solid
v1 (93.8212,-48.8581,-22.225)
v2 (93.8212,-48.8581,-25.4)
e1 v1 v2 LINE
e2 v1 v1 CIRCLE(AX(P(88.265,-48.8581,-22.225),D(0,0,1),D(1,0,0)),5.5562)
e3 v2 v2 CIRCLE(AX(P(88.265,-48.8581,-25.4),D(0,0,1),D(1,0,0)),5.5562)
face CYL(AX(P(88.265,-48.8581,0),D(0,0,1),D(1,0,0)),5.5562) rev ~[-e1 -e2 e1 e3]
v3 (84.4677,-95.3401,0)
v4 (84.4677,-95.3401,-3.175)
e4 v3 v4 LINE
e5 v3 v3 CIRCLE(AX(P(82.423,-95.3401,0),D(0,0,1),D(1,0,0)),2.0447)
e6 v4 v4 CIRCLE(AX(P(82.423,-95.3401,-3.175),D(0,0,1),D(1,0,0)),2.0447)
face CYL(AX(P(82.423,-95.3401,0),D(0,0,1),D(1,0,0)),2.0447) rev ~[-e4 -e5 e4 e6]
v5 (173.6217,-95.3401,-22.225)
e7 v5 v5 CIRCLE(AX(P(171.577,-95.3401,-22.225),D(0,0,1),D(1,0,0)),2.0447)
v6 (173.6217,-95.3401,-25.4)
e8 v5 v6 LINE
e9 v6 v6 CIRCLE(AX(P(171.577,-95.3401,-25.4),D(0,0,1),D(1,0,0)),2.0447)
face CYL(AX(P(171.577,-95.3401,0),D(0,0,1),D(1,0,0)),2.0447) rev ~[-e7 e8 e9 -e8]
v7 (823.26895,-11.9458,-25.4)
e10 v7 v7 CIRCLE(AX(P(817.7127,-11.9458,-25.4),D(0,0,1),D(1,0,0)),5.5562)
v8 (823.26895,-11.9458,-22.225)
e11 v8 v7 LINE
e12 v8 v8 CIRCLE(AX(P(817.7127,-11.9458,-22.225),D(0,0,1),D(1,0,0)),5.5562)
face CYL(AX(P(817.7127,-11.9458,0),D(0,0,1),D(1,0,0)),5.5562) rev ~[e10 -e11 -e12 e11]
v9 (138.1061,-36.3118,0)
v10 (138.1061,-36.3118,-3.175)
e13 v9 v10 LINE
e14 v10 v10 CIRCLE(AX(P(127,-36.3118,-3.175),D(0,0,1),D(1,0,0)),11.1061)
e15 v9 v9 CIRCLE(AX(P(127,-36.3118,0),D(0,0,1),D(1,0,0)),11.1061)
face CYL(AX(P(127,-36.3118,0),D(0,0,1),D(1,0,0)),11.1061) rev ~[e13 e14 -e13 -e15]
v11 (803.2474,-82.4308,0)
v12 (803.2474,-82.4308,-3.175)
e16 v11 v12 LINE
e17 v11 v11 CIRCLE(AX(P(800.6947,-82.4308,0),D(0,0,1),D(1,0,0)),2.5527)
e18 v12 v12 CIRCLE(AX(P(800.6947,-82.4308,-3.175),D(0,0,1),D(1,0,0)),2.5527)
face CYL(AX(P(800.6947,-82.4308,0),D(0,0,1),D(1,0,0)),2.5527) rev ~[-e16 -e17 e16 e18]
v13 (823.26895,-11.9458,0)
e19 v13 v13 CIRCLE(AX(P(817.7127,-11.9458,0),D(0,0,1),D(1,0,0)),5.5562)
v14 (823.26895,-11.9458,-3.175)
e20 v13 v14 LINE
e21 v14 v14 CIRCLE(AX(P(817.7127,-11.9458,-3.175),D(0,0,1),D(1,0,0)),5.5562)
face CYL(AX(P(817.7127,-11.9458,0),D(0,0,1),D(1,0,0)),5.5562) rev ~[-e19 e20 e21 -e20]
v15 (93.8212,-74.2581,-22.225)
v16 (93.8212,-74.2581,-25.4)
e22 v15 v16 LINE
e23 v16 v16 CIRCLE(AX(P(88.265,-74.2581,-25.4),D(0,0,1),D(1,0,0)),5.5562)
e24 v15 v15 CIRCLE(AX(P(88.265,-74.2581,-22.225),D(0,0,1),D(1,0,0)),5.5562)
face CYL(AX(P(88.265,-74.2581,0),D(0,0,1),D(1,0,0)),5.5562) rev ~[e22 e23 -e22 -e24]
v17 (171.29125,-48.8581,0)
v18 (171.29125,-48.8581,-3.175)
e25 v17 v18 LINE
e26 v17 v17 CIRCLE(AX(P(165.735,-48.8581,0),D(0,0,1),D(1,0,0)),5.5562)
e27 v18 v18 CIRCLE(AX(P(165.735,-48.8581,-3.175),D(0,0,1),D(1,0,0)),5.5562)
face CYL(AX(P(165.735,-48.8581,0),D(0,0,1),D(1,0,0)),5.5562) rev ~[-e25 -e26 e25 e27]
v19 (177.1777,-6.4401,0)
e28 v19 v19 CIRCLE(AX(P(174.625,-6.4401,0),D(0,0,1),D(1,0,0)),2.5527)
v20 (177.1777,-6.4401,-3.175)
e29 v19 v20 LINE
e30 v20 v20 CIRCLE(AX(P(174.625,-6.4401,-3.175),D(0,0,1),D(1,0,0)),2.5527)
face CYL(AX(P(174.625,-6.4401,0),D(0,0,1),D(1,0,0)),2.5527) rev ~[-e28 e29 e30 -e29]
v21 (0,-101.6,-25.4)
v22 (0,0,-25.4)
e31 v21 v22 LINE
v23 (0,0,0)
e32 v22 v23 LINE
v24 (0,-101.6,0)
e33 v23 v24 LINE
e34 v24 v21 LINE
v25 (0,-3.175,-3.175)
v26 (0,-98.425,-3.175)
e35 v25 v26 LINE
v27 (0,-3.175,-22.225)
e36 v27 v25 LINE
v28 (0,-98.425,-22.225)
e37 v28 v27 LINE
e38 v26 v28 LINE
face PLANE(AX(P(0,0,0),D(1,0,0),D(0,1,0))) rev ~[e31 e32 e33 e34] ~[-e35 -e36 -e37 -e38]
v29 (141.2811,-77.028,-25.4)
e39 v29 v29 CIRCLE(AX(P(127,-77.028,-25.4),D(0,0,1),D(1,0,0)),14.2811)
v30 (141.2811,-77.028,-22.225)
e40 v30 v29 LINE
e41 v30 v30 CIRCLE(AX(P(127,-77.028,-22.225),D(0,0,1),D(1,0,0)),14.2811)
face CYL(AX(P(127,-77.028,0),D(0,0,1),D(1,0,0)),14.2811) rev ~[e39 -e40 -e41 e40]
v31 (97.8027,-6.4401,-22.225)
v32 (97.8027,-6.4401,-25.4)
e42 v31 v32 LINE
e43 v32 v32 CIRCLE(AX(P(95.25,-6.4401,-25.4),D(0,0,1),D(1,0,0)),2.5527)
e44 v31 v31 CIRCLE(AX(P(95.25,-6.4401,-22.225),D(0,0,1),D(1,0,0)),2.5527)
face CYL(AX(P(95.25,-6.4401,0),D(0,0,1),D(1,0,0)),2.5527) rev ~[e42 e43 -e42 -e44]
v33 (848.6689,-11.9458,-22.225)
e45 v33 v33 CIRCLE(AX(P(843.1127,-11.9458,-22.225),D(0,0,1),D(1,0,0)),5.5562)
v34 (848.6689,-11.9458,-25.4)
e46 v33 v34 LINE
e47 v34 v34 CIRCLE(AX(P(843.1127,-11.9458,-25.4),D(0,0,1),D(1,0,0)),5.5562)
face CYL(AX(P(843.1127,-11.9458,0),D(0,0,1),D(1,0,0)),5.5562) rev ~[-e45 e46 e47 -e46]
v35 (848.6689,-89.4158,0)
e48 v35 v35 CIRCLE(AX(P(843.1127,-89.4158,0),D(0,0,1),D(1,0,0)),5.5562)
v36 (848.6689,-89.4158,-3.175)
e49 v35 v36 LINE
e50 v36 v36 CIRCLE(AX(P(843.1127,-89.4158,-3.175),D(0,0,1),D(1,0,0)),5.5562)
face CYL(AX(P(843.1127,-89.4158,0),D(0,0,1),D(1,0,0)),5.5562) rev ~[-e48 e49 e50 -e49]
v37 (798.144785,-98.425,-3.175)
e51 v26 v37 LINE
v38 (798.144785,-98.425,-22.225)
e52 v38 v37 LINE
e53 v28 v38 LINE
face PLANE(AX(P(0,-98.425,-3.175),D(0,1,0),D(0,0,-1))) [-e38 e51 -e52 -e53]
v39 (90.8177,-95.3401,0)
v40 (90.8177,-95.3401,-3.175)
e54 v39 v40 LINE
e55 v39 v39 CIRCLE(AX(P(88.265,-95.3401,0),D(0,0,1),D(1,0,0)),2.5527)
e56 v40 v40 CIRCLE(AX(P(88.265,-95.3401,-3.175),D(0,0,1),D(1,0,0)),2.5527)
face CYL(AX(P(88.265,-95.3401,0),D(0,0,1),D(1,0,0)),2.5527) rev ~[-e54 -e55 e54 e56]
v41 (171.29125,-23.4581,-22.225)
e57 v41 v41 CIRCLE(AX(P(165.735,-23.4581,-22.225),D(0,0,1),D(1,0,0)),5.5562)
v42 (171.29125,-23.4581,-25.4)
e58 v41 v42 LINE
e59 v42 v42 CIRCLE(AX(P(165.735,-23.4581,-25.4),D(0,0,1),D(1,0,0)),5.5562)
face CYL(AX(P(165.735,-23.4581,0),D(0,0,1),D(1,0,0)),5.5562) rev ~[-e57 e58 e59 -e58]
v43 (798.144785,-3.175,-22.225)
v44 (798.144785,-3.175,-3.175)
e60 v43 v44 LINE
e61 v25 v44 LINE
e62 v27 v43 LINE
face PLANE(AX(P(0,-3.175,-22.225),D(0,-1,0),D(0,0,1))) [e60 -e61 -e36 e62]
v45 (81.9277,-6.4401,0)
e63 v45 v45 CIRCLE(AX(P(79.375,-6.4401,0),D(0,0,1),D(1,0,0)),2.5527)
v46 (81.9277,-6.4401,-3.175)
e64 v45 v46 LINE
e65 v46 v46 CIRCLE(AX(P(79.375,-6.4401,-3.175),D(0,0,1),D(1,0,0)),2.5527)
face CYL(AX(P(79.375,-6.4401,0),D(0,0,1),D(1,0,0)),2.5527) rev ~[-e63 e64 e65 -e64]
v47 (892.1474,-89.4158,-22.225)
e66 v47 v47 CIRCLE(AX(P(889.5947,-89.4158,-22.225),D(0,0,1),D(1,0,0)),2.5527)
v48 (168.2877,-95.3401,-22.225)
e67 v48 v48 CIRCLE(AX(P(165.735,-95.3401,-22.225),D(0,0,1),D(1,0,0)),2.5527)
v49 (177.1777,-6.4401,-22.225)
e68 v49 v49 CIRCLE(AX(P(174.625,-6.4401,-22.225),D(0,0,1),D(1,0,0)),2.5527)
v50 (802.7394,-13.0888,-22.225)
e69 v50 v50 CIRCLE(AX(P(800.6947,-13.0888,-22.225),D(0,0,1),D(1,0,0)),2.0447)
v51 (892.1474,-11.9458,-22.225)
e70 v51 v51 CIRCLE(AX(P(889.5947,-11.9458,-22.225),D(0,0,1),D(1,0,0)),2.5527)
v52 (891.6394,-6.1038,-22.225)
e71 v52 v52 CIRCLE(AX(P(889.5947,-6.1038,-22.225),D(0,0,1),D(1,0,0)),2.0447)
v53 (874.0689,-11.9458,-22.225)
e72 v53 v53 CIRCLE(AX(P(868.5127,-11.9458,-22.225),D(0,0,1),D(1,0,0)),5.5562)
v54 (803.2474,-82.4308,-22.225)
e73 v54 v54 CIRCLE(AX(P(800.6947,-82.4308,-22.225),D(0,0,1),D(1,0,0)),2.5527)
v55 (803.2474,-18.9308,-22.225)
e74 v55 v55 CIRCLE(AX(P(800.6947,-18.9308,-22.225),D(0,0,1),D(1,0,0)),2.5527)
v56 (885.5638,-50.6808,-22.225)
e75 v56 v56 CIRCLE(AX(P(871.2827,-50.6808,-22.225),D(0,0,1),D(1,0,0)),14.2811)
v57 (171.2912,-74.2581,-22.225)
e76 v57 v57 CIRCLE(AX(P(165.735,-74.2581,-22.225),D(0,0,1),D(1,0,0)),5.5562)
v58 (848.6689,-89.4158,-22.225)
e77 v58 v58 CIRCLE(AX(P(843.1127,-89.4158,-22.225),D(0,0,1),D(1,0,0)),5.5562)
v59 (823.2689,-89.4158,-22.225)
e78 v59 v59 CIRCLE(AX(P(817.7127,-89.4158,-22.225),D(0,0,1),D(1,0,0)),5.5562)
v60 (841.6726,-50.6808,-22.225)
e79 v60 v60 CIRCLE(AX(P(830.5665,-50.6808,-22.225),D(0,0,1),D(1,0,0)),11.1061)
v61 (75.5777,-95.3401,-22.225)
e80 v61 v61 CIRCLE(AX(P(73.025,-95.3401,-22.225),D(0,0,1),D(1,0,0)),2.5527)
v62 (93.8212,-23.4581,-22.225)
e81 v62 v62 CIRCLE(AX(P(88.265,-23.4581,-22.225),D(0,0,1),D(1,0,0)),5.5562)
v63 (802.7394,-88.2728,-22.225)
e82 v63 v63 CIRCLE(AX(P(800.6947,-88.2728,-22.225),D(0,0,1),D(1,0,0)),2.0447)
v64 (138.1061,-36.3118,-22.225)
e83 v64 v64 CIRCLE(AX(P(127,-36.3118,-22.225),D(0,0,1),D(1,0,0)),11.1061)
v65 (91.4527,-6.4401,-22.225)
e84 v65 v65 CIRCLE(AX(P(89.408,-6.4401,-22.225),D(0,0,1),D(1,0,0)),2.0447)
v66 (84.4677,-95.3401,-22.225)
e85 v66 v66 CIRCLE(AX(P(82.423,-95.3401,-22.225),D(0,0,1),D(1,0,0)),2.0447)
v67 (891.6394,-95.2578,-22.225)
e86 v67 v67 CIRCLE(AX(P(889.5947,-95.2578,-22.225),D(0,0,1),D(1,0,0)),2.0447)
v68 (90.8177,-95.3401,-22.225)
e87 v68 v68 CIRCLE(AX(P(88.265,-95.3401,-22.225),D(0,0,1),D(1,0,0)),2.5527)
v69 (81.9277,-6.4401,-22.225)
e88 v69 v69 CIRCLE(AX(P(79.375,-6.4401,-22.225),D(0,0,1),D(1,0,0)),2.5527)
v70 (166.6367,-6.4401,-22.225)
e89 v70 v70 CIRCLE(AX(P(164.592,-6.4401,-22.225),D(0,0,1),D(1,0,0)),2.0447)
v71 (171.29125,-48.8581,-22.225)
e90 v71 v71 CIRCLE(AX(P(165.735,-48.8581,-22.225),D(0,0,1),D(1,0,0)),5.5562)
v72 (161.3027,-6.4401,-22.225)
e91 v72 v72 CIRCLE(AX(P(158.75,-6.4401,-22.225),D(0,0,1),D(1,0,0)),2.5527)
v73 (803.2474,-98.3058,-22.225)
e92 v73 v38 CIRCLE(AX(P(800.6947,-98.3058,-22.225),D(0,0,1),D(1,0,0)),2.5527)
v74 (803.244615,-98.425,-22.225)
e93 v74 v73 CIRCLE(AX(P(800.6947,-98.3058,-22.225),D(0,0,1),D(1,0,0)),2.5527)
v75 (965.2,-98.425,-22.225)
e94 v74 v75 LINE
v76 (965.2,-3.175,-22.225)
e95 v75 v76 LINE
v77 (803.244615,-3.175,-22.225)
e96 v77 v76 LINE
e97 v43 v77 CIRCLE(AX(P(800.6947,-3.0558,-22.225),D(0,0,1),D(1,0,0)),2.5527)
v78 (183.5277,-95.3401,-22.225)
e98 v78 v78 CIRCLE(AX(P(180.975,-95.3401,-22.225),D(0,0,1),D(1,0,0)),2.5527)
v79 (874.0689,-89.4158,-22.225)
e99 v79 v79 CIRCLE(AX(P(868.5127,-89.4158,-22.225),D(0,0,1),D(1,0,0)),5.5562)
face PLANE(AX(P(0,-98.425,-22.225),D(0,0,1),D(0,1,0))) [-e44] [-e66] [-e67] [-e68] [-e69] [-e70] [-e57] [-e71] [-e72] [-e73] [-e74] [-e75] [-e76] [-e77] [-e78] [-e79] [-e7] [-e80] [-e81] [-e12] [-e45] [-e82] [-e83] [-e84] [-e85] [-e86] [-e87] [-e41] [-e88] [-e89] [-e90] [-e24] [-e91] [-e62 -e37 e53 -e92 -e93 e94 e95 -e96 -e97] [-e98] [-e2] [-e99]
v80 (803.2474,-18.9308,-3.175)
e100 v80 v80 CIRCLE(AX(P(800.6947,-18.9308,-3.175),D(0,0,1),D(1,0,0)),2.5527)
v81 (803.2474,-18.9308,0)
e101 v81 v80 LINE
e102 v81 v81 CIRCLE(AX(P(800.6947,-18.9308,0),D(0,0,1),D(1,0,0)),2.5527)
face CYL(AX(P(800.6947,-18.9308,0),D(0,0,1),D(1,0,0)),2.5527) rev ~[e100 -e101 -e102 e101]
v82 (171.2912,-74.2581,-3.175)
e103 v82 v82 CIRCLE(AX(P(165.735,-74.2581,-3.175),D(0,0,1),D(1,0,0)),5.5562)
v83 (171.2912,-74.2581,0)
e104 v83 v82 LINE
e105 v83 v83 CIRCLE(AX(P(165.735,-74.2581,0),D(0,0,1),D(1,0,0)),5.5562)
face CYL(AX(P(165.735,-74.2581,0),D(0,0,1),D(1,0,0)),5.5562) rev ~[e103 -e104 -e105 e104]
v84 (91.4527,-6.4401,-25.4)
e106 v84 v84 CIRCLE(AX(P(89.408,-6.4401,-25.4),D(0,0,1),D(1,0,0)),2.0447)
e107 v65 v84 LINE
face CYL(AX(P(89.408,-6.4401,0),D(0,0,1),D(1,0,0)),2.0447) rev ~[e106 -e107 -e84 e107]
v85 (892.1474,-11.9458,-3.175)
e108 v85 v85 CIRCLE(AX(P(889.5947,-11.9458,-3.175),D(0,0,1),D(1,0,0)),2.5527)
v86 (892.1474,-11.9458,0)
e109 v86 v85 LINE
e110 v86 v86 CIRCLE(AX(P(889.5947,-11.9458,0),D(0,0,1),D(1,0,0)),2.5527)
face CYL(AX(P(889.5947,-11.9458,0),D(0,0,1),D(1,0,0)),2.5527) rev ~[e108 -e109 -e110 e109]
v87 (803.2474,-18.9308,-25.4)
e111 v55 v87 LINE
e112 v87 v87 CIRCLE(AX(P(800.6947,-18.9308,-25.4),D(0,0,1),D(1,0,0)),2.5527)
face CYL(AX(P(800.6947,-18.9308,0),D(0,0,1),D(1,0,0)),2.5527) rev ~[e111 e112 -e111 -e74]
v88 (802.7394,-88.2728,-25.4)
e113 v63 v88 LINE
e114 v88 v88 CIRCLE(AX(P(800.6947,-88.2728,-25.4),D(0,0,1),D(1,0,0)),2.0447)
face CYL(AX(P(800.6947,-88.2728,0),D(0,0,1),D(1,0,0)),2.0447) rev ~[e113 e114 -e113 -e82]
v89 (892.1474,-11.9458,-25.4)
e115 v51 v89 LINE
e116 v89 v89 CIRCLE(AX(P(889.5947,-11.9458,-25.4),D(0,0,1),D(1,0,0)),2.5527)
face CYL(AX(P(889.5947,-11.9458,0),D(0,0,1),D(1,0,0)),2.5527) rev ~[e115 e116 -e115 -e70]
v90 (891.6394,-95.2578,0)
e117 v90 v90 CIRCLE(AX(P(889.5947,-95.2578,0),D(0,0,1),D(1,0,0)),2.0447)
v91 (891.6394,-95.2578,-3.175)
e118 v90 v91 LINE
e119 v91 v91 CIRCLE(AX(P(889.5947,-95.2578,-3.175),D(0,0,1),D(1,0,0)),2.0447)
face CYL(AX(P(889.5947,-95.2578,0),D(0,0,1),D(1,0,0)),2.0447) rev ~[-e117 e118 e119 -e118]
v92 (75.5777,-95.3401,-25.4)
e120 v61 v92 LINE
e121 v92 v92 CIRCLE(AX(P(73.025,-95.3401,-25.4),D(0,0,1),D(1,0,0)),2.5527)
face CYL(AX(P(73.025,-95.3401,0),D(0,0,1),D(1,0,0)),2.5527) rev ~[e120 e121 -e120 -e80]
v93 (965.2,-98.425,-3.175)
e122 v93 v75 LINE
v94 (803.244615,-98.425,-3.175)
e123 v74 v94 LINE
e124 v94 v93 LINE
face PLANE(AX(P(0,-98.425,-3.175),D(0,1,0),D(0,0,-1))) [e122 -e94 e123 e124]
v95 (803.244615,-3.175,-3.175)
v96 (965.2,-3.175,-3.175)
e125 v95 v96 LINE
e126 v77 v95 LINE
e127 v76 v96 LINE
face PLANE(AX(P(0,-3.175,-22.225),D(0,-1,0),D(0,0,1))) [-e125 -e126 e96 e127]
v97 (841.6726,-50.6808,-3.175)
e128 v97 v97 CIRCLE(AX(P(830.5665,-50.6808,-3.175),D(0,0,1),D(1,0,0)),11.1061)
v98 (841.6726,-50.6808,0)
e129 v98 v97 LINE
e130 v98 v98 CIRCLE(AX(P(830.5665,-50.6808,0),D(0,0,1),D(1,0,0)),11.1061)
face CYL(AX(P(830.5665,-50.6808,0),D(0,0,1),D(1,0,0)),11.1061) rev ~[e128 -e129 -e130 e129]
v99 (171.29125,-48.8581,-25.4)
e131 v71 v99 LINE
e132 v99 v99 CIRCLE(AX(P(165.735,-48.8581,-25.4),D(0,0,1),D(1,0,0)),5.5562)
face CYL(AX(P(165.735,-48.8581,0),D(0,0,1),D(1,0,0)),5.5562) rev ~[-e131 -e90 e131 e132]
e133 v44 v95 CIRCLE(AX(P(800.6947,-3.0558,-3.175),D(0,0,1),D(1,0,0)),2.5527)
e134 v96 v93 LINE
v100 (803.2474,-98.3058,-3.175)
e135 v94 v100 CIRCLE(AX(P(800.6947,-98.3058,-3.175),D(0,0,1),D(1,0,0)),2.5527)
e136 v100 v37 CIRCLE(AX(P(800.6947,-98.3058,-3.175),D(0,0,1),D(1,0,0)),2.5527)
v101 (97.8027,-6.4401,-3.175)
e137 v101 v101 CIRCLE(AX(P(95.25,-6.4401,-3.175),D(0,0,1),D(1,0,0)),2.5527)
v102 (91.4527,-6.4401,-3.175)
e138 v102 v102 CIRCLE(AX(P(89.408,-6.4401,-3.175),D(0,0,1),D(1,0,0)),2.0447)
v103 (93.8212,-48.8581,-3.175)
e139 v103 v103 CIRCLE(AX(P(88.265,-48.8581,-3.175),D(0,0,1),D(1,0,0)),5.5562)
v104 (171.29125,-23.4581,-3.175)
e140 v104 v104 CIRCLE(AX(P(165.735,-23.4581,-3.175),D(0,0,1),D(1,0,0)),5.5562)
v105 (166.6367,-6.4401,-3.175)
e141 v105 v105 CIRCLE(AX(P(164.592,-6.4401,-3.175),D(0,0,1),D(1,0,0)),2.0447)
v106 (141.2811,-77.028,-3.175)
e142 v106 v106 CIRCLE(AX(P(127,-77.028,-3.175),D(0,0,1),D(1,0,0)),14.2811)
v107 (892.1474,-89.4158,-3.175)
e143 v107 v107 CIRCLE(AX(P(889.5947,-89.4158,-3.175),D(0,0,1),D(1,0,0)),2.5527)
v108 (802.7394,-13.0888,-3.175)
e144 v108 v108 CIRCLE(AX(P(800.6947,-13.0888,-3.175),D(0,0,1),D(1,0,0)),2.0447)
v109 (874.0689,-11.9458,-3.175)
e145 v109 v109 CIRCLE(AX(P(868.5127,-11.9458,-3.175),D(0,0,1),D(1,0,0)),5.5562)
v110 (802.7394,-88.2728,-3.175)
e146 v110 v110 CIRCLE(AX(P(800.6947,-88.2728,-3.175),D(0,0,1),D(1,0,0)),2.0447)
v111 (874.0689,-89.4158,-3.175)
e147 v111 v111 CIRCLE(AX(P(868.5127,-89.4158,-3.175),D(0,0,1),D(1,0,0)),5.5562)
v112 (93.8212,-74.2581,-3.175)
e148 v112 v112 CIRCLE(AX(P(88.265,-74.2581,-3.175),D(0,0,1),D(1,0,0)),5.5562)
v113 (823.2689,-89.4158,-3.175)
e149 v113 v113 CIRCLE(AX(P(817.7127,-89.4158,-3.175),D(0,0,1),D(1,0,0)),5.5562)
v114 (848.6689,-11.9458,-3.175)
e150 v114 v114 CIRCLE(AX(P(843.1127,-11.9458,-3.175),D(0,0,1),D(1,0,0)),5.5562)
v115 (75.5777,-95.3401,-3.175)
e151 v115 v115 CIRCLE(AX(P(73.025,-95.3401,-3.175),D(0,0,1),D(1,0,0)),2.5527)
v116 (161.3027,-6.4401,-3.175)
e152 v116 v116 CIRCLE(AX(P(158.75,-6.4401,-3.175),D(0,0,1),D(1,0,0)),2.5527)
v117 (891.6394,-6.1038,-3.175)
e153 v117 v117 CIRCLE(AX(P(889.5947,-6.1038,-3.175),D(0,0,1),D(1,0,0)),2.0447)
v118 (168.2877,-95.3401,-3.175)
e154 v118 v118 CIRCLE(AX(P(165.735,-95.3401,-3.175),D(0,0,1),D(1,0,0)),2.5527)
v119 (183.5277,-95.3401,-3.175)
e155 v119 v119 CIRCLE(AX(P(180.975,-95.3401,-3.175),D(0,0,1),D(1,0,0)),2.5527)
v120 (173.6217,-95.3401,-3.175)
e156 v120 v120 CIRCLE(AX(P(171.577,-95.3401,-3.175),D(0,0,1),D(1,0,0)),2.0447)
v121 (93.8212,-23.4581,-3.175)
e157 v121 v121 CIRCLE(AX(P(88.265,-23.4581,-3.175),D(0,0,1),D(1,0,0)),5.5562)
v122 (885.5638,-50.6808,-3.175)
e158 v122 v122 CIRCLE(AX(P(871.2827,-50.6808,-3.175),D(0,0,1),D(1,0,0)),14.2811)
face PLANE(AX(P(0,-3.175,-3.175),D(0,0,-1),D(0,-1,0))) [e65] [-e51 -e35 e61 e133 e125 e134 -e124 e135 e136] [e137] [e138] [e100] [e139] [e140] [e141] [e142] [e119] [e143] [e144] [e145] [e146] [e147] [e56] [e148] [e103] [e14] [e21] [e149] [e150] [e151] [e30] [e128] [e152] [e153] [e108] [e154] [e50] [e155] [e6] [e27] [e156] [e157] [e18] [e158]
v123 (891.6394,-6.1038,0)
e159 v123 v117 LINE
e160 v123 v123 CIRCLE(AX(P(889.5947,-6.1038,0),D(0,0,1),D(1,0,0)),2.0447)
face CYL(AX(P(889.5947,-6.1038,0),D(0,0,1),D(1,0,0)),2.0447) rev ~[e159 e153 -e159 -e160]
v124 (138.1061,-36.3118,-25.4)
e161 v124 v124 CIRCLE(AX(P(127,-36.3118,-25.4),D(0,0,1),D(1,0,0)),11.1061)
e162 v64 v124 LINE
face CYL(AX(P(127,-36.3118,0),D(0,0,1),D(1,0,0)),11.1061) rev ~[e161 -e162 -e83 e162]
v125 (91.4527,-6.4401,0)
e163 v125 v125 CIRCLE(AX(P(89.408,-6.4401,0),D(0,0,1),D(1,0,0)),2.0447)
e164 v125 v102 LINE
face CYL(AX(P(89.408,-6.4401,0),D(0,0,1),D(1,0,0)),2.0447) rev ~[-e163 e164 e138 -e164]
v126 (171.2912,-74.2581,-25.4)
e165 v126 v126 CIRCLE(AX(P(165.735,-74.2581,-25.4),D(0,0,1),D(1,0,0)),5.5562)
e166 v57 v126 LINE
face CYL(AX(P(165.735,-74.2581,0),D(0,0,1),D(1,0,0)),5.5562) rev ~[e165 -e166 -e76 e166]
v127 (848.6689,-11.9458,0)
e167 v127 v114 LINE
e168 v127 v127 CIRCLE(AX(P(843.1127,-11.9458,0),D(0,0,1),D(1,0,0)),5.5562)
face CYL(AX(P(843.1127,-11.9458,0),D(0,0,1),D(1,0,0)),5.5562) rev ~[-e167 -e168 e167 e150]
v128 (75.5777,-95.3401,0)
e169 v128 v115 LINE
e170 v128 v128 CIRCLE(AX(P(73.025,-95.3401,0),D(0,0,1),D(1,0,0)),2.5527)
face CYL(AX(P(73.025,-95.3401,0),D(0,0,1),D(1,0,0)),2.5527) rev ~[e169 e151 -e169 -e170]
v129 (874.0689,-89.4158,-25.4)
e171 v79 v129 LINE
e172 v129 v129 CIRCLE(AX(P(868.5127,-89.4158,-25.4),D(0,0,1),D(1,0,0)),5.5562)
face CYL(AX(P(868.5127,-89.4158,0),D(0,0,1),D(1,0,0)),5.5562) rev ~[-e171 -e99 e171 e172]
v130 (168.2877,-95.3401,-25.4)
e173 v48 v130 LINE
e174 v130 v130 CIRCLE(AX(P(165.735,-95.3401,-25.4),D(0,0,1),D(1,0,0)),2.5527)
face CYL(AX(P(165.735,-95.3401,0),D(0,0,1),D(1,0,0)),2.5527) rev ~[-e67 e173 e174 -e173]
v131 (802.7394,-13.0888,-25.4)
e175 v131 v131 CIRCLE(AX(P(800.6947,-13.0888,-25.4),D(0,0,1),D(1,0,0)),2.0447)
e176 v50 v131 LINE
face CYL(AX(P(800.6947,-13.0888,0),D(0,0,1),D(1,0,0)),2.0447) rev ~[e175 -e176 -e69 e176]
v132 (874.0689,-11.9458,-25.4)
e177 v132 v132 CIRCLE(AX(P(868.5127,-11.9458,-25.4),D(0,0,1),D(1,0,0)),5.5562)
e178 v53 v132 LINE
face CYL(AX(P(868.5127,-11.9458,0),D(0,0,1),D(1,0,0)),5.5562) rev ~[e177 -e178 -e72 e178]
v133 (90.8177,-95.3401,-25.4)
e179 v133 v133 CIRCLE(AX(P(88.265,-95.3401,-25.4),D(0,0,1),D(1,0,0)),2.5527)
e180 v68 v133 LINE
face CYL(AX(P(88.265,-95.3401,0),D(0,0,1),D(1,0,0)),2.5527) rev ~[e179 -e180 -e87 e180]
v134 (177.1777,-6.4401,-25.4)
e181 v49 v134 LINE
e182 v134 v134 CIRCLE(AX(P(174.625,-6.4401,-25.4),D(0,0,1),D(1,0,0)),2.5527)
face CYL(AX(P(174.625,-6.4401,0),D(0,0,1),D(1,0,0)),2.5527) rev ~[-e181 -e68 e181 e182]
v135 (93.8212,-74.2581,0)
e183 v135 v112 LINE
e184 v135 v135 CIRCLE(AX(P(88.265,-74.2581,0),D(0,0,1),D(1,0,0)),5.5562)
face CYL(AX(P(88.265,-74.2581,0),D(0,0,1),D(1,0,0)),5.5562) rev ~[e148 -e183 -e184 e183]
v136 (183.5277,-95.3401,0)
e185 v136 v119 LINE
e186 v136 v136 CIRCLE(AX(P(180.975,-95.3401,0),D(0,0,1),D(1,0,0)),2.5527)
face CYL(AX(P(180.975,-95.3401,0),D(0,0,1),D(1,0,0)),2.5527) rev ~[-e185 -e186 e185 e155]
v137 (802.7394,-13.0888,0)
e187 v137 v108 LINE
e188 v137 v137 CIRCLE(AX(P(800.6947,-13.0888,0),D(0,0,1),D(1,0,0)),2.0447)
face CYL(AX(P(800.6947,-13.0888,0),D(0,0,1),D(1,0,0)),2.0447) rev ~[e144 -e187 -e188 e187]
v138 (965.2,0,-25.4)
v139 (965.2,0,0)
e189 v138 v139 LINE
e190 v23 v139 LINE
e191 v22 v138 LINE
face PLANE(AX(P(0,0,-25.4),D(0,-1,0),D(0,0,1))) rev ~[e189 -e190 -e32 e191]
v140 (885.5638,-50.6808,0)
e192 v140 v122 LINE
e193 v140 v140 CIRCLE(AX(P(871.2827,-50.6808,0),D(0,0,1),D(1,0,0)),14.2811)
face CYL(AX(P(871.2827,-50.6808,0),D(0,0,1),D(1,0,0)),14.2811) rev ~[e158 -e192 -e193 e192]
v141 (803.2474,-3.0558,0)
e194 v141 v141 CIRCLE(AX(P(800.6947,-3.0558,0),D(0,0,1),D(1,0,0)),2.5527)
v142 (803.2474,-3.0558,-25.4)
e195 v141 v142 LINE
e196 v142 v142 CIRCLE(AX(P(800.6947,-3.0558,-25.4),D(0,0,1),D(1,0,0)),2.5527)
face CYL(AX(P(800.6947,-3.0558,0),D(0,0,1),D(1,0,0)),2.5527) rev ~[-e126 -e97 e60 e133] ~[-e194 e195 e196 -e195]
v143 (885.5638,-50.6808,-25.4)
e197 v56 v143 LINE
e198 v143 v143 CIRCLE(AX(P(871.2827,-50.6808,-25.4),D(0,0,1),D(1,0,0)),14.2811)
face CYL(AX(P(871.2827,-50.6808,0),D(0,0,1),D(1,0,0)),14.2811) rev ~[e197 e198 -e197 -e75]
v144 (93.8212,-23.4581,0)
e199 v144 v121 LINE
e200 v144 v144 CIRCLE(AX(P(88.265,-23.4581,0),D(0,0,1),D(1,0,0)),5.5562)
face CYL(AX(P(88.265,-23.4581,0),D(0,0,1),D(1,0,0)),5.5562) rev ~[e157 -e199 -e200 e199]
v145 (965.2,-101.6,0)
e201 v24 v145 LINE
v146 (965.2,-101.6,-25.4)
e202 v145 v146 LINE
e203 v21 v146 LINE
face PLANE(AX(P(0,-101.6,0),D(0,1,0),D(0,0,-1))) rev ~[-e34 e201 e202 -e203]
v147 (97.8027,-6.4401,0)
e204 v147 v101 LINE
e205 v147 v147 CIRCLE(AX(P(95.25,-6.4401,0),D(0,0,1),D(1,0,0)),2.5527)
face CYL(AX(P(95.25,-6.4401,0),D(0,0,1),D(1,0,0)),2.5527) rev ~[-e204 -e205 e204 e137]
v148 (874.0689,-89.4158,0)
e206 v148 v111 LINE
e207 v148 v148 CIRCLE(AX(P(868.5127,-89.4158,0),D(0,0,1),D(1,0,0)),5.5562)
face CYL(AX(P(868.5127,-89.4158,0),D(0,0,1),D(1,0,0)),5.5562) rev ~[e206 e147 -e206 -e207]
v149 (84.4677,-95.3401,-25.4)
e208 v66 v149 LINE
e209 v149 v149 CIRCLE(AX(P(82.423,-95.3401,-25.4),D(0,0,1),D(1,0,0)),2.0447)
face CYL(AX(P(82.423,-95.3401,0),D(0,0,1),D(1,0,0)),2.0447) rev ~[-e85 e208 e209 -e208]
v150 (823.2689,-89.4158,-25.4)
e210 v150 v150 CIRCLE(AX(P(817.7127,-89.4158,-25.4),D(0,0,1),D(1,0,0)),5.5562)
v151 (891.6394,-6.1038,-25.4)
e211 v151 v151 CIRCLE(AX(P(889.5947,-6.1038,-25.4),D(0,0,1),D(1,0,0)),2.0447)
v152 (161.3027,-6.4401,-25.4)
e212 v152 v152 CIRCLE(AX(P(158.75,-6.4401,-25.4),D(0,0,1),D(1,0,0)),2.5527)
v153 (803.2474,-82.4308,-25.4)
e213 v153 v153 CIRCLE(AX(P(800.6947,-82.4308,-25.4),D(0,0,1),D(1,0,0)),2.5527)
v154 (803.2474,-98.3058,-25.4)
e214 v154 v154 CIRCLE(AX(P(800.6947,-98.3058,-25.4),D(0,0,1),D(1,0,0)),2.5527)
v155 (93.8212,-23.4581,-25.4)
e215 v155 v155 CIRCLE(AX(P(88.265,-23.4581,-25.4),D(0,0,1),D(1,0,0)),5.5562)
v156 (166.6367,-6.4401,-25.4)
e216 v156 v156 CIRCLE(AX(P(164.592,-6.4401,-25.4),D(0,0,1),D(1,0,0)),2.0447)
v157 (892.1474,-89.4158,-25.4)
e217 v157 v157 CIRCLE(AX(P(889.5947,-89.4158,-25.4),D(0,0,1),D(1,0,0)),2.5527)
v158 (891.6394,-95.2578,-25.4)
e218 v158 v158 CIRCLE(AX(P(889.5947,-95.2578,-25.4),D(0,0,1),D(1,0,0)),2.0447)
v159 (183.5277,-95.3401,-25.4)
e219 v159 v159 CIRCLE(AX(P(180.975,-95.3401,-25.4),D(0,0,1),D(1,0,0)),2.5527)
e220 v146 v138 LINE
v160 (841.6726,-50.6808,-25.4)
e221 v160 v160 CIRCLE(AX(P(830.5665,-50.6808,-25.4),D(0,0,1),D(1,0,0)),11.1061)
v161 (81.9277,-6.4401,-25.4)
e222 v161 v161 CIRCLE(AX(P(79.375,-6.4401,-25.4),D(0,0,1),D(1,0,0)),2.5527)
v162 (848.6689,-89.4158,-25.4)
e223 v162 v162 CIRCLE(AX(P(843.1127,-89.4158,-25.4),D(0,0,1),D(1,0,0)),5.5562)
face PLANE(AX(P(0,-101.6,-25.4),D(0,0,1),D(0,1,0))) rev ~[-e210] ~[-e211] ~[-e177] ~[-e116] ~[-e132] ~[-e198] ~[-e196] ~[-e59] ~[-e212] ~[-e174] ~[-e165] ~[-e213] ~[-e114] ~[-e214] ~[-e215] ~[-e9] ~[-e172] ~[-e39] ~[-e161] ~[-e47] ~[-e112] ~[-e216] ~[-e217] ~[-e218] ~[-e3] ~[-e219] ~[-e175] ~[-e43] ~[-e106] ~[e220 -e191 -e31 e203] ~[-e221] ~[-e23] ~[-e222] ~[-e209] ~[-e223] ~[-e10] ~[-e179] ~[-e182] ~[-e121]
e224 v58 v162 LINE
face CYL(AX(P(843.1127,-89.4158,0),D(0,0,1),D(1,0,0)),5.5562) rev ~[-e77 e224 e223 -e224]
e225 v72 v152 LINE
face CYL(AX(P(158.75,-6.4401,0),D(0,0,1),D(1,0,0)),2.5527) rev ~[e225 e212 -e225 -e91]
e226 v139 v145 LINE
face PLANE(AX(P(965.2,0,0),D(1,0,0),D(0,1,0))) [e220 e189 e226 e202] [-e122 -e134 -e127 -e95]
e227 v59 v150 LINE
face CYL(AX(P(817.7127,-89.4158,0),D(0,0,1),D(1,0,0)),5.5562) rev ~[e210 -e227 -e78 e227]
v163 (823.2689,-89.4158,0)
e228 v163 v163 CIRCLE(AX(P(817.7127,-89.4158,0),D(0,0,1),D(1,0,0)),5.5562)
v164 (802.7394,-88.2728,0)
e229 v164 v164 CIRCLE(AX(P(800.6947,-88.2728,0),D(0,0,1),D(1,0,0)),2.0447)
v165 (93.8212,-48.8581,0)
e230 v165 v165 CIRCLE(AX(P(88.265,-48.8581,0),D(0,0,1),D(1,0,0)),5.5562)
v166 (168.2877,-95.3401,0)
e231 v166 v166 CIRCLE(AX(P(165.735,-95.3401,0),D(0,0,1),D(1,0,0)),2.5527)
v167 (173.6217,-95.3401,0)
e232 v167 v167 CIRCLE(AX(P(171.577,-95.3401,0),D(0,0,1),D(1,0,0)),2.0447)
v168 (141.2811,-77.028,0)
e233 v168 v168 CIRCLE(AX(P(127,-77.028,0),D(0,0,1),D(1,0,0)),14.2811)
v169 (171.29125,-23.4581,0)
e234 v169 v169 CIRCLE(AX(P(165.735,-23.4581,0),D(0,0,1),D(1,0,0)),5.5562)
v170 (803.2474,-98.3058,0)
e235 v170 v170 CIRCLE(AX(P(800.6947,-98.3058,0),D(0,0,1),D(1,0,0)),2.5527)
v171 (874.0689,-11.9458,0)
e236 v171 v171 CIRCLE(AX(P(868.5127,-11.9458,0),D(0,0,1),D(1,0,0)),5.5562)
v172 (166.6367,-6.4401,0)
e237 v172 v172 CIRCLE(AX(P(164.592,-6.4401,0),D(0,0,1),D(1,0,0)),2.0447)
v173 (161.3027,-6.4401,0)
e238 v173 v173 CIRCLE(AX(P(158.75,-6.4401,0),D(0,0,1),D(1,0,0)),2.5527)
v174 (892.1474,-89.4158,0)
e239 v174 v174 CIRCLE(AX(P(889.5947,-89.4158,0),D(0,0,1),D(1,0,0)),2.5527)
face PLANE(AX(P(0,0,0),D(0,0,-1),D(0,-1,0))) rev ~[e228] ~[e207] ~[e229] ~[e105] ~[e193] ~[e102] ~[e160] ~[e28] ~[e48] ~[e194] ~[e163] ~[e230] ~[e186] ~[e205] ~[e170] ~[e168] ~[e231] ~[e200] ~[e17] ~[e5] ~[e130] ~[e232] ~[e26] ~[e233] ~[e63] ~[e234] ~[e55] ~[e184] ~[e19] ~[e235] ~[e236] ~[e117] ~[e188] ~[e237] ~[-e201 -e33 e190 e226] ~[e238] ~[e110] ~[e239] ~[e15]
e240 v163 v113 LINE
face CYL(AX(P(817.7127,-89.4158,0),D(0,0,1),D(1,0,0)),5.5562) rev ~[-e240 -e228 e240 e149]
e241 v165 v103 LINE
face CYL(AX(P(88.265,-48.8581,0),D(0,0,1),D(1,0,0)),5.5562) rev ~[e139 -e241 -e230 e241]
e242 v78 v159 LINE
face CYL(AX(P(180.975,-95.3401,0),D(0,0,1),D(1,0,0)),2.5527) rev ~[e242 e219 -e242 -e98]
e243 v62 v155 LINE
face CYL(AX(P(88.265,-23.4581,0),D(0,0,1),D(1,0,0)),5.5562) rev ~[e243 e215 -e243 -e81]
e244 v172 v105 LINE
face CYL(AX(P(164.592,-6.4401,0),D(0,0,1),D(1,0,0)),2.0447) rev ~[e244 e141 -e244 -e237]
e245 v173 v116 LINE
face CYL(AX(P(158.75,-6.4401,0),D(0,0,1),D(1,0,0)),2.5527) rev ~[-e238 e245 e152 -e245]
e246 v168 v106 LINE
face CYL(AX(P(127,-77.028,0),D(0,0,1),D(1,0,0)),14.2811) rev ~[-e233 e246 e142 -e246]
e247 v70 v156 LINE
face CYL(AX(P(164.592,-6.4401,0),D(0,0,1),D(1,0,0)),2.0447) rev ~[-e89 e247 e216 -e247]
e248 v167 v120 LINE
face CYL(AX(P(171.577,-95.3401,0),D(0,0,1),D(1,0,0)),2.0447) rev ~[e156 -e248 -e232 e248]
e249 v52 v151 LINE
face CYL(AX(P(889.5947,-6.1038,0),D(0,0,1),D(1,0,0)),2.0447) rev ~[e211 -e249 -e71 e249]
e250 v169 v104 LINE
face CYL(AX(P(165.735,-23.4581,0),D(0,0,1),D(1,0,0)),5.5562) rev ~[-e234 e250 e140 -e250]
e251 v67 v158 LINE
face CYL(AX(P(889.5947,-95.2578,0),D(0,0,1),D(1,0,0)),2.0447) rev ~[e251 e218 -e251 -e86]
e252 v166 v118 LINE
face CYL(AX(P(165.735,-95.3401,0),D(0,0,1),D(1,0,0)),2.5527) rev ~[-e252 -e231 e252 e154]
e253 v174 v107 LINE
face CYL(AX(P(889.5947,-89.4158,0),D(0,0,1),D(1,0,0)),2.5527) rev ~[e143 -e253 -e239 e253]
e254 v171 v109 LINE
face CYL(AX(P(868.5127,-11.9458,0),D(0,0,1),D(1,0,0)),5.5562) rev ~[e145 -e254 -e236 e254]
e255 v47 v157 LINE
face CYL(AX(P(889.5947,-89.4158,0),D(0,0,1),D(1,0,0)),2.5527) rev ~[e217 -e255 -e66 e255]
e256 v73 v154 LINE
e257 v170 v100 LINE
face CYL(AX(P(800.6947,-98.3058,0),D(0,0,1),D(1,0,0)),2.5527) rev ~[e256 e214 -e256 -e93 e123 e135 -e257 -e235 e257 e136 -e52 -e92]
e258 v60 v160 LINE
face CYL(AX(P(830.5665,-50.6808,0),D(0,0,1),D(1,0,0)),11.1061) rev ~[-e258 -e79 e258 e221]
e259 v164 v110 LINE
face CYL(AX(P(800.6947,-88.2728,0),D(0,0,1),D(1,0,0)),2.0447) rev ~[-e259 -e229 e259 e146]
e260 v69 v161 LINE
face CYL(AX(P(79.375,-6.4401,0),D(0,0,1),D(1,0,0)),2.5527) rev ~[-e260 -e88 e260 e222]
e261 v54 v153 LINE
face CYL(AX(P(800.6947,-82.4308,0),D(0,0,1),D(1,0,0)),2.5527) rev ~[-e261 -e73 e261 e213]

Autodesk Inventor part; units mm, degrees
ref_plane "YZ Plane" through (0, 0, 0) normal (1, 0, 0) x (0, 1, 0)
ref_plane "XZ Plane" through (0, 0, 0) normal (0, 1, 0) x (-1, 0, 0)
ref_plane "XY Plane" through (0, 0, 0) normal (0, 0, 1) x (1, 0, 0)
sketch "Sketch1" plane through (0, 0, 0) normal (1, 0, 0) x (0, 1, 0)
  line L0 (0, 0) -> (-101.6, 0)
  line L1 (-101.6, 0) -> (-101.6, -25.4)
  line L2 (-101.6, -25.4) -> (0, -25.4)
  line L3 (0, -25.4) -> (0, 0)
  line L4 (-3.175, -3.175) -> (-98.425, -3.175)
  line L5 (-98.425, -3.175) -> (-98.425, -22.225)
  line L6 (-98.425, -22.225) -> (-3.175, -22.225)
  line L7 (-3.175, -22.225) -> (-3.175, -3.175)
  dimension "d0" = 101.6
  dimension "d1" = 25.4
  dimension "d2" = 3.175
extrude "Extrusion1" add sketch "Sketch1" along normal blind 965.2
sketch "Sketch2" plane through (0, -101.6, 0) normal (0, 0, 1) x (1, 0, 0)
  line L0 (909.1795, 114.4192) -> (797.5413, 105.3674)
  arc A0 (797.5413, 105.3674) -> (791.7045, 99.0382) centre (798.0545, 99.0382) ccw
  line L1 (791.7045, 99.0382) -> (791.7045, 2.8001)
  arc A1 (791.7045, 2.8001) -> (797.5413, -3.5291) centre (798.0545, 2.8001) ccw
  line L2 (797.5413, -3.5291) -> (909.1795, -12.5808)
  line L3 (909.1795, -12.5808) -> (910.8305, -12.5808)
  line L4 (910.8305, 114.4192) -> (910.8305, -12.5808)
  line L5 (910.8305, 114.4192) -> (909.1795, 114.4192)
  circle A2 centre (889.5947, 6.3422) radius 2.0447
  circle A3 centre (800.6947, 88.5112) radius 2.0447
  circle A4 centre (889.5947, 104.8942) radius 2.5527
  circle A5 centre (800.6947, 98.5442) radius 2.5527
  circle A6 centre (889.5947, 12.1842) radius 2.5527
  circle A7 centre (800.6947, 82.6692) radius 2.5527
  circle A8 centre (817.7127, 12.1842) radius 5.5562
  circle A9 centre (868.5127, 12.1842) radius 5.5562
  circle A10 centre (817.7127, 89.6542) radius 5.5562
  circle A11 centre (830.5665, 50.9192) radius 11.1061
  circle A12 centre (843.1127, 89.6542) radius 5.5562
  circle A13 centre (868.5127, 89.6542) radius 5.5562
  circle A14 centre (843.1127, 12.1842) radius 5.5562
  circle A15 centre (871.2827, 50.9192) radius 14.2811
  circle A16 centre (800.6947, 19.1692) radius 2.5527
  circle A17 centre (889.5947, 89.6542) radius 2.5527
  circle A18 centre (800.6947, 3.2942) radius 2.5527
  circle A19 centre (889.5947, -3.0558) radius 2.5527
  circle A20 centre (800.6947, 13.3272) radius 2.0447
  circle A21 centre (889.5947, 95.4962) radius 2.0447
  circle A22 centre (800.6947, 3.2942) radius 2.5527
  circle A23 centre (800.6947, 13.3272) radius 2.0447
  circle A24 centre (800.6947, 19.1692) radius 2.5527
  circle A25 centre (800.6947, 82.6692) radius 2.5527
  circle A26 centre (800.6947, 88.5112) radius 2.0447
  circle A27 centre (800.6947, 98.5442) radius 2.5527
  circle A28 centre (830.5665, 50.9192) radius 11.1061
  circle A29 centre (817.7127, 89.6542) radius 5.5563
  circle A30 centre (843.1127, 89.6542) radius 5.5562
  circle A31 centre (868.5127, 89.6542) radius 5.5562
  circle A32 centre (871.2827, 50.9192) radius 14.2811
  circle A33 centre (868.5127, 12.1842) radius 5.5562
  circle A34 centre (843.1127, 12.1842) radius 5.5562
  circle A35 centre (817.7127, 12.1842) radius 5.5562
  circle A36 centre (889.5947, 89.6542) radius 2.5527
  circle A37 centre (889.5947, 95.4962) radius 2.0447
  circle A38 centre (889.5947, 104.8942) radius 2.5527
  circle A39 centre (889.5947, 12.1842) radius 2.5527
  circle A40 centre (889.5947, 6.3422) radius 2.0447
  circle A41 centre (889.5947, -3.0558) radius 2.5527
  point P0 (0, 101.6)
extrude "Extrusion2" cut sketch "Sketch2" against normal blind 25.4 contours A2 | A3 | A4 | A5 | A6 | A7 | A8 | A9 | A10 | A11 | A12 | A13 | A14 | A15 | A16 | A17 | A18 | A19 | A20 | A21
sketch "Sketch3" plane through (0, -101.6, 0) normal (0, 0, 1) x (1, 0, 0)
  line L0 (190.5, -13.3248) -> (181.4483, 98.3133) projected
  arc A0 (181.4483, 98.3133) -> (175.119, 104.1502) centre (175.119, 97.8002) ccw projected
  line L1 (175.119, 104.1502) -> (78.881, 104.1502) projected
  arc A1 (78.881, 104.1502) -> (72.5517, 98.3133) centre (78.881, 97.8002) ccw projected
  line L2 (72.5517, 98.3133) -> (63.5, -13.3248) projected
  line L3 (63.5, -13.3248) -> (63.5, -14.9758) projected
  line L4 (190.5, -14.9758) -> (63.5, -14.9758) projected
  line L5 (190.5, -14.9758) -> (190.5, -13.3248) projected
  circle A2 centre (82.423, 6.2599) radius 2.0447 projected
  circle A3 centre (164.592, 95.1599) radius 2.0447 projected
  circle A4 centre (180.975, 6.2599) radius 2.5527 projected
  circle A5 centre (174.625, 95.1599) radius 2.5527 projected
  circle A6 centre (88.265, 6.2599) radius 2.5527 projected
  circle A7 centre (158.75, 95.1599) radius 2.5527 projected
  circle A8 centre (88.265, 78.1419) radius 5.5562 projected
  circle A9 centre (88.265, 27.3419) radius 5.5562 projected
  circle A10 centre (165.735, 78.1419) radius 5.5562 projected
  circle A11 centre (127, 65.2882) radius 11.1061 projected
  circle A12 centre (165.735, 52.7419) radius 5.5562 projected
  circle A13 centre (165.735, 27.3419) radius 5.5562 projected
  circle A14 centre (88.265, 52.7419) radius 5.5562 projected
  circle A15 centre (127, 24.572) radius 14.2811 projected
  circle A16 centre (95.25, 95.1599) radius 2.5527 projected
  circle A17 centre (165.735, 6.2599) radius 2.5527 projected
  circle A18 centre (79.375, 95.1599) radius 2.5527 projected
  circle A19 centre (73.025, 6.2599) radius 2.5527 projected
  circle A20 centre (89.408, 95.1599) radius 2.0447 projected
  circle A21 centre (171.577, 6.2599) radius 2.0447 projected
  circle A22 centre (79.375, 95.1599) radius 2.5527
  circle A23 centre (89.408, 95.1599) radius 2.0447
  circle A24 centre (95.25, 95.1599) radius 2.5527
  circle A25 centre (88.265, 78.1419) radius 5.5562
  circle A26 centre (127, 65.2882) radius 11.1061
  circle A27 centre (88.265, 52.7419) radius 5.5562
  circle A28 centre (88.265, 27.3419) radius 5.5562
  circle A29 centre (88.265, 6.2599) radius 2.5527
  circle A30 centre (82.423, 6.2599) radius 2.0447
  circle A31 centre (73.025, 6.2599) radius 2.5527
  circle A32 centre (127, 24.572) radius 14.2811
  circle A33 centre (165.735, 27.3419) radius 5.5562
  circle A34 centre (165.735, 6.2599) radius 2.5527
  circle A35 centre (171.577, 6.2599) radius 2.0447
  circle A36 centre (180.975, 6.2599) radius 2.5527
  circle A37 centre (165.735, 52.7419) radius 5.5563
  circle A38 centre (165.735, 78.1419) radius 5.5563
  circle A39 centre (164.592, 95.1599) radius 2.0447
  circle A40 centre (158.75, 95.1599) radius 2.5527
  circle A41 centre (174.625, 95.1599) radius 2.5527
  point P0 (0, 101.6)
extrude "Extrusion3" cut sketch "Sketch3" against normal blind 25.4 contours A2 | A3 | A4 | A5 | A6 | A7 | A8 | A9 | A10 | A11 | A12 | A13 | A14 | A15 | A16 | A17 | A18 | A19 | A20 | A21
properties part number "4x1 boxbeam lengths"
